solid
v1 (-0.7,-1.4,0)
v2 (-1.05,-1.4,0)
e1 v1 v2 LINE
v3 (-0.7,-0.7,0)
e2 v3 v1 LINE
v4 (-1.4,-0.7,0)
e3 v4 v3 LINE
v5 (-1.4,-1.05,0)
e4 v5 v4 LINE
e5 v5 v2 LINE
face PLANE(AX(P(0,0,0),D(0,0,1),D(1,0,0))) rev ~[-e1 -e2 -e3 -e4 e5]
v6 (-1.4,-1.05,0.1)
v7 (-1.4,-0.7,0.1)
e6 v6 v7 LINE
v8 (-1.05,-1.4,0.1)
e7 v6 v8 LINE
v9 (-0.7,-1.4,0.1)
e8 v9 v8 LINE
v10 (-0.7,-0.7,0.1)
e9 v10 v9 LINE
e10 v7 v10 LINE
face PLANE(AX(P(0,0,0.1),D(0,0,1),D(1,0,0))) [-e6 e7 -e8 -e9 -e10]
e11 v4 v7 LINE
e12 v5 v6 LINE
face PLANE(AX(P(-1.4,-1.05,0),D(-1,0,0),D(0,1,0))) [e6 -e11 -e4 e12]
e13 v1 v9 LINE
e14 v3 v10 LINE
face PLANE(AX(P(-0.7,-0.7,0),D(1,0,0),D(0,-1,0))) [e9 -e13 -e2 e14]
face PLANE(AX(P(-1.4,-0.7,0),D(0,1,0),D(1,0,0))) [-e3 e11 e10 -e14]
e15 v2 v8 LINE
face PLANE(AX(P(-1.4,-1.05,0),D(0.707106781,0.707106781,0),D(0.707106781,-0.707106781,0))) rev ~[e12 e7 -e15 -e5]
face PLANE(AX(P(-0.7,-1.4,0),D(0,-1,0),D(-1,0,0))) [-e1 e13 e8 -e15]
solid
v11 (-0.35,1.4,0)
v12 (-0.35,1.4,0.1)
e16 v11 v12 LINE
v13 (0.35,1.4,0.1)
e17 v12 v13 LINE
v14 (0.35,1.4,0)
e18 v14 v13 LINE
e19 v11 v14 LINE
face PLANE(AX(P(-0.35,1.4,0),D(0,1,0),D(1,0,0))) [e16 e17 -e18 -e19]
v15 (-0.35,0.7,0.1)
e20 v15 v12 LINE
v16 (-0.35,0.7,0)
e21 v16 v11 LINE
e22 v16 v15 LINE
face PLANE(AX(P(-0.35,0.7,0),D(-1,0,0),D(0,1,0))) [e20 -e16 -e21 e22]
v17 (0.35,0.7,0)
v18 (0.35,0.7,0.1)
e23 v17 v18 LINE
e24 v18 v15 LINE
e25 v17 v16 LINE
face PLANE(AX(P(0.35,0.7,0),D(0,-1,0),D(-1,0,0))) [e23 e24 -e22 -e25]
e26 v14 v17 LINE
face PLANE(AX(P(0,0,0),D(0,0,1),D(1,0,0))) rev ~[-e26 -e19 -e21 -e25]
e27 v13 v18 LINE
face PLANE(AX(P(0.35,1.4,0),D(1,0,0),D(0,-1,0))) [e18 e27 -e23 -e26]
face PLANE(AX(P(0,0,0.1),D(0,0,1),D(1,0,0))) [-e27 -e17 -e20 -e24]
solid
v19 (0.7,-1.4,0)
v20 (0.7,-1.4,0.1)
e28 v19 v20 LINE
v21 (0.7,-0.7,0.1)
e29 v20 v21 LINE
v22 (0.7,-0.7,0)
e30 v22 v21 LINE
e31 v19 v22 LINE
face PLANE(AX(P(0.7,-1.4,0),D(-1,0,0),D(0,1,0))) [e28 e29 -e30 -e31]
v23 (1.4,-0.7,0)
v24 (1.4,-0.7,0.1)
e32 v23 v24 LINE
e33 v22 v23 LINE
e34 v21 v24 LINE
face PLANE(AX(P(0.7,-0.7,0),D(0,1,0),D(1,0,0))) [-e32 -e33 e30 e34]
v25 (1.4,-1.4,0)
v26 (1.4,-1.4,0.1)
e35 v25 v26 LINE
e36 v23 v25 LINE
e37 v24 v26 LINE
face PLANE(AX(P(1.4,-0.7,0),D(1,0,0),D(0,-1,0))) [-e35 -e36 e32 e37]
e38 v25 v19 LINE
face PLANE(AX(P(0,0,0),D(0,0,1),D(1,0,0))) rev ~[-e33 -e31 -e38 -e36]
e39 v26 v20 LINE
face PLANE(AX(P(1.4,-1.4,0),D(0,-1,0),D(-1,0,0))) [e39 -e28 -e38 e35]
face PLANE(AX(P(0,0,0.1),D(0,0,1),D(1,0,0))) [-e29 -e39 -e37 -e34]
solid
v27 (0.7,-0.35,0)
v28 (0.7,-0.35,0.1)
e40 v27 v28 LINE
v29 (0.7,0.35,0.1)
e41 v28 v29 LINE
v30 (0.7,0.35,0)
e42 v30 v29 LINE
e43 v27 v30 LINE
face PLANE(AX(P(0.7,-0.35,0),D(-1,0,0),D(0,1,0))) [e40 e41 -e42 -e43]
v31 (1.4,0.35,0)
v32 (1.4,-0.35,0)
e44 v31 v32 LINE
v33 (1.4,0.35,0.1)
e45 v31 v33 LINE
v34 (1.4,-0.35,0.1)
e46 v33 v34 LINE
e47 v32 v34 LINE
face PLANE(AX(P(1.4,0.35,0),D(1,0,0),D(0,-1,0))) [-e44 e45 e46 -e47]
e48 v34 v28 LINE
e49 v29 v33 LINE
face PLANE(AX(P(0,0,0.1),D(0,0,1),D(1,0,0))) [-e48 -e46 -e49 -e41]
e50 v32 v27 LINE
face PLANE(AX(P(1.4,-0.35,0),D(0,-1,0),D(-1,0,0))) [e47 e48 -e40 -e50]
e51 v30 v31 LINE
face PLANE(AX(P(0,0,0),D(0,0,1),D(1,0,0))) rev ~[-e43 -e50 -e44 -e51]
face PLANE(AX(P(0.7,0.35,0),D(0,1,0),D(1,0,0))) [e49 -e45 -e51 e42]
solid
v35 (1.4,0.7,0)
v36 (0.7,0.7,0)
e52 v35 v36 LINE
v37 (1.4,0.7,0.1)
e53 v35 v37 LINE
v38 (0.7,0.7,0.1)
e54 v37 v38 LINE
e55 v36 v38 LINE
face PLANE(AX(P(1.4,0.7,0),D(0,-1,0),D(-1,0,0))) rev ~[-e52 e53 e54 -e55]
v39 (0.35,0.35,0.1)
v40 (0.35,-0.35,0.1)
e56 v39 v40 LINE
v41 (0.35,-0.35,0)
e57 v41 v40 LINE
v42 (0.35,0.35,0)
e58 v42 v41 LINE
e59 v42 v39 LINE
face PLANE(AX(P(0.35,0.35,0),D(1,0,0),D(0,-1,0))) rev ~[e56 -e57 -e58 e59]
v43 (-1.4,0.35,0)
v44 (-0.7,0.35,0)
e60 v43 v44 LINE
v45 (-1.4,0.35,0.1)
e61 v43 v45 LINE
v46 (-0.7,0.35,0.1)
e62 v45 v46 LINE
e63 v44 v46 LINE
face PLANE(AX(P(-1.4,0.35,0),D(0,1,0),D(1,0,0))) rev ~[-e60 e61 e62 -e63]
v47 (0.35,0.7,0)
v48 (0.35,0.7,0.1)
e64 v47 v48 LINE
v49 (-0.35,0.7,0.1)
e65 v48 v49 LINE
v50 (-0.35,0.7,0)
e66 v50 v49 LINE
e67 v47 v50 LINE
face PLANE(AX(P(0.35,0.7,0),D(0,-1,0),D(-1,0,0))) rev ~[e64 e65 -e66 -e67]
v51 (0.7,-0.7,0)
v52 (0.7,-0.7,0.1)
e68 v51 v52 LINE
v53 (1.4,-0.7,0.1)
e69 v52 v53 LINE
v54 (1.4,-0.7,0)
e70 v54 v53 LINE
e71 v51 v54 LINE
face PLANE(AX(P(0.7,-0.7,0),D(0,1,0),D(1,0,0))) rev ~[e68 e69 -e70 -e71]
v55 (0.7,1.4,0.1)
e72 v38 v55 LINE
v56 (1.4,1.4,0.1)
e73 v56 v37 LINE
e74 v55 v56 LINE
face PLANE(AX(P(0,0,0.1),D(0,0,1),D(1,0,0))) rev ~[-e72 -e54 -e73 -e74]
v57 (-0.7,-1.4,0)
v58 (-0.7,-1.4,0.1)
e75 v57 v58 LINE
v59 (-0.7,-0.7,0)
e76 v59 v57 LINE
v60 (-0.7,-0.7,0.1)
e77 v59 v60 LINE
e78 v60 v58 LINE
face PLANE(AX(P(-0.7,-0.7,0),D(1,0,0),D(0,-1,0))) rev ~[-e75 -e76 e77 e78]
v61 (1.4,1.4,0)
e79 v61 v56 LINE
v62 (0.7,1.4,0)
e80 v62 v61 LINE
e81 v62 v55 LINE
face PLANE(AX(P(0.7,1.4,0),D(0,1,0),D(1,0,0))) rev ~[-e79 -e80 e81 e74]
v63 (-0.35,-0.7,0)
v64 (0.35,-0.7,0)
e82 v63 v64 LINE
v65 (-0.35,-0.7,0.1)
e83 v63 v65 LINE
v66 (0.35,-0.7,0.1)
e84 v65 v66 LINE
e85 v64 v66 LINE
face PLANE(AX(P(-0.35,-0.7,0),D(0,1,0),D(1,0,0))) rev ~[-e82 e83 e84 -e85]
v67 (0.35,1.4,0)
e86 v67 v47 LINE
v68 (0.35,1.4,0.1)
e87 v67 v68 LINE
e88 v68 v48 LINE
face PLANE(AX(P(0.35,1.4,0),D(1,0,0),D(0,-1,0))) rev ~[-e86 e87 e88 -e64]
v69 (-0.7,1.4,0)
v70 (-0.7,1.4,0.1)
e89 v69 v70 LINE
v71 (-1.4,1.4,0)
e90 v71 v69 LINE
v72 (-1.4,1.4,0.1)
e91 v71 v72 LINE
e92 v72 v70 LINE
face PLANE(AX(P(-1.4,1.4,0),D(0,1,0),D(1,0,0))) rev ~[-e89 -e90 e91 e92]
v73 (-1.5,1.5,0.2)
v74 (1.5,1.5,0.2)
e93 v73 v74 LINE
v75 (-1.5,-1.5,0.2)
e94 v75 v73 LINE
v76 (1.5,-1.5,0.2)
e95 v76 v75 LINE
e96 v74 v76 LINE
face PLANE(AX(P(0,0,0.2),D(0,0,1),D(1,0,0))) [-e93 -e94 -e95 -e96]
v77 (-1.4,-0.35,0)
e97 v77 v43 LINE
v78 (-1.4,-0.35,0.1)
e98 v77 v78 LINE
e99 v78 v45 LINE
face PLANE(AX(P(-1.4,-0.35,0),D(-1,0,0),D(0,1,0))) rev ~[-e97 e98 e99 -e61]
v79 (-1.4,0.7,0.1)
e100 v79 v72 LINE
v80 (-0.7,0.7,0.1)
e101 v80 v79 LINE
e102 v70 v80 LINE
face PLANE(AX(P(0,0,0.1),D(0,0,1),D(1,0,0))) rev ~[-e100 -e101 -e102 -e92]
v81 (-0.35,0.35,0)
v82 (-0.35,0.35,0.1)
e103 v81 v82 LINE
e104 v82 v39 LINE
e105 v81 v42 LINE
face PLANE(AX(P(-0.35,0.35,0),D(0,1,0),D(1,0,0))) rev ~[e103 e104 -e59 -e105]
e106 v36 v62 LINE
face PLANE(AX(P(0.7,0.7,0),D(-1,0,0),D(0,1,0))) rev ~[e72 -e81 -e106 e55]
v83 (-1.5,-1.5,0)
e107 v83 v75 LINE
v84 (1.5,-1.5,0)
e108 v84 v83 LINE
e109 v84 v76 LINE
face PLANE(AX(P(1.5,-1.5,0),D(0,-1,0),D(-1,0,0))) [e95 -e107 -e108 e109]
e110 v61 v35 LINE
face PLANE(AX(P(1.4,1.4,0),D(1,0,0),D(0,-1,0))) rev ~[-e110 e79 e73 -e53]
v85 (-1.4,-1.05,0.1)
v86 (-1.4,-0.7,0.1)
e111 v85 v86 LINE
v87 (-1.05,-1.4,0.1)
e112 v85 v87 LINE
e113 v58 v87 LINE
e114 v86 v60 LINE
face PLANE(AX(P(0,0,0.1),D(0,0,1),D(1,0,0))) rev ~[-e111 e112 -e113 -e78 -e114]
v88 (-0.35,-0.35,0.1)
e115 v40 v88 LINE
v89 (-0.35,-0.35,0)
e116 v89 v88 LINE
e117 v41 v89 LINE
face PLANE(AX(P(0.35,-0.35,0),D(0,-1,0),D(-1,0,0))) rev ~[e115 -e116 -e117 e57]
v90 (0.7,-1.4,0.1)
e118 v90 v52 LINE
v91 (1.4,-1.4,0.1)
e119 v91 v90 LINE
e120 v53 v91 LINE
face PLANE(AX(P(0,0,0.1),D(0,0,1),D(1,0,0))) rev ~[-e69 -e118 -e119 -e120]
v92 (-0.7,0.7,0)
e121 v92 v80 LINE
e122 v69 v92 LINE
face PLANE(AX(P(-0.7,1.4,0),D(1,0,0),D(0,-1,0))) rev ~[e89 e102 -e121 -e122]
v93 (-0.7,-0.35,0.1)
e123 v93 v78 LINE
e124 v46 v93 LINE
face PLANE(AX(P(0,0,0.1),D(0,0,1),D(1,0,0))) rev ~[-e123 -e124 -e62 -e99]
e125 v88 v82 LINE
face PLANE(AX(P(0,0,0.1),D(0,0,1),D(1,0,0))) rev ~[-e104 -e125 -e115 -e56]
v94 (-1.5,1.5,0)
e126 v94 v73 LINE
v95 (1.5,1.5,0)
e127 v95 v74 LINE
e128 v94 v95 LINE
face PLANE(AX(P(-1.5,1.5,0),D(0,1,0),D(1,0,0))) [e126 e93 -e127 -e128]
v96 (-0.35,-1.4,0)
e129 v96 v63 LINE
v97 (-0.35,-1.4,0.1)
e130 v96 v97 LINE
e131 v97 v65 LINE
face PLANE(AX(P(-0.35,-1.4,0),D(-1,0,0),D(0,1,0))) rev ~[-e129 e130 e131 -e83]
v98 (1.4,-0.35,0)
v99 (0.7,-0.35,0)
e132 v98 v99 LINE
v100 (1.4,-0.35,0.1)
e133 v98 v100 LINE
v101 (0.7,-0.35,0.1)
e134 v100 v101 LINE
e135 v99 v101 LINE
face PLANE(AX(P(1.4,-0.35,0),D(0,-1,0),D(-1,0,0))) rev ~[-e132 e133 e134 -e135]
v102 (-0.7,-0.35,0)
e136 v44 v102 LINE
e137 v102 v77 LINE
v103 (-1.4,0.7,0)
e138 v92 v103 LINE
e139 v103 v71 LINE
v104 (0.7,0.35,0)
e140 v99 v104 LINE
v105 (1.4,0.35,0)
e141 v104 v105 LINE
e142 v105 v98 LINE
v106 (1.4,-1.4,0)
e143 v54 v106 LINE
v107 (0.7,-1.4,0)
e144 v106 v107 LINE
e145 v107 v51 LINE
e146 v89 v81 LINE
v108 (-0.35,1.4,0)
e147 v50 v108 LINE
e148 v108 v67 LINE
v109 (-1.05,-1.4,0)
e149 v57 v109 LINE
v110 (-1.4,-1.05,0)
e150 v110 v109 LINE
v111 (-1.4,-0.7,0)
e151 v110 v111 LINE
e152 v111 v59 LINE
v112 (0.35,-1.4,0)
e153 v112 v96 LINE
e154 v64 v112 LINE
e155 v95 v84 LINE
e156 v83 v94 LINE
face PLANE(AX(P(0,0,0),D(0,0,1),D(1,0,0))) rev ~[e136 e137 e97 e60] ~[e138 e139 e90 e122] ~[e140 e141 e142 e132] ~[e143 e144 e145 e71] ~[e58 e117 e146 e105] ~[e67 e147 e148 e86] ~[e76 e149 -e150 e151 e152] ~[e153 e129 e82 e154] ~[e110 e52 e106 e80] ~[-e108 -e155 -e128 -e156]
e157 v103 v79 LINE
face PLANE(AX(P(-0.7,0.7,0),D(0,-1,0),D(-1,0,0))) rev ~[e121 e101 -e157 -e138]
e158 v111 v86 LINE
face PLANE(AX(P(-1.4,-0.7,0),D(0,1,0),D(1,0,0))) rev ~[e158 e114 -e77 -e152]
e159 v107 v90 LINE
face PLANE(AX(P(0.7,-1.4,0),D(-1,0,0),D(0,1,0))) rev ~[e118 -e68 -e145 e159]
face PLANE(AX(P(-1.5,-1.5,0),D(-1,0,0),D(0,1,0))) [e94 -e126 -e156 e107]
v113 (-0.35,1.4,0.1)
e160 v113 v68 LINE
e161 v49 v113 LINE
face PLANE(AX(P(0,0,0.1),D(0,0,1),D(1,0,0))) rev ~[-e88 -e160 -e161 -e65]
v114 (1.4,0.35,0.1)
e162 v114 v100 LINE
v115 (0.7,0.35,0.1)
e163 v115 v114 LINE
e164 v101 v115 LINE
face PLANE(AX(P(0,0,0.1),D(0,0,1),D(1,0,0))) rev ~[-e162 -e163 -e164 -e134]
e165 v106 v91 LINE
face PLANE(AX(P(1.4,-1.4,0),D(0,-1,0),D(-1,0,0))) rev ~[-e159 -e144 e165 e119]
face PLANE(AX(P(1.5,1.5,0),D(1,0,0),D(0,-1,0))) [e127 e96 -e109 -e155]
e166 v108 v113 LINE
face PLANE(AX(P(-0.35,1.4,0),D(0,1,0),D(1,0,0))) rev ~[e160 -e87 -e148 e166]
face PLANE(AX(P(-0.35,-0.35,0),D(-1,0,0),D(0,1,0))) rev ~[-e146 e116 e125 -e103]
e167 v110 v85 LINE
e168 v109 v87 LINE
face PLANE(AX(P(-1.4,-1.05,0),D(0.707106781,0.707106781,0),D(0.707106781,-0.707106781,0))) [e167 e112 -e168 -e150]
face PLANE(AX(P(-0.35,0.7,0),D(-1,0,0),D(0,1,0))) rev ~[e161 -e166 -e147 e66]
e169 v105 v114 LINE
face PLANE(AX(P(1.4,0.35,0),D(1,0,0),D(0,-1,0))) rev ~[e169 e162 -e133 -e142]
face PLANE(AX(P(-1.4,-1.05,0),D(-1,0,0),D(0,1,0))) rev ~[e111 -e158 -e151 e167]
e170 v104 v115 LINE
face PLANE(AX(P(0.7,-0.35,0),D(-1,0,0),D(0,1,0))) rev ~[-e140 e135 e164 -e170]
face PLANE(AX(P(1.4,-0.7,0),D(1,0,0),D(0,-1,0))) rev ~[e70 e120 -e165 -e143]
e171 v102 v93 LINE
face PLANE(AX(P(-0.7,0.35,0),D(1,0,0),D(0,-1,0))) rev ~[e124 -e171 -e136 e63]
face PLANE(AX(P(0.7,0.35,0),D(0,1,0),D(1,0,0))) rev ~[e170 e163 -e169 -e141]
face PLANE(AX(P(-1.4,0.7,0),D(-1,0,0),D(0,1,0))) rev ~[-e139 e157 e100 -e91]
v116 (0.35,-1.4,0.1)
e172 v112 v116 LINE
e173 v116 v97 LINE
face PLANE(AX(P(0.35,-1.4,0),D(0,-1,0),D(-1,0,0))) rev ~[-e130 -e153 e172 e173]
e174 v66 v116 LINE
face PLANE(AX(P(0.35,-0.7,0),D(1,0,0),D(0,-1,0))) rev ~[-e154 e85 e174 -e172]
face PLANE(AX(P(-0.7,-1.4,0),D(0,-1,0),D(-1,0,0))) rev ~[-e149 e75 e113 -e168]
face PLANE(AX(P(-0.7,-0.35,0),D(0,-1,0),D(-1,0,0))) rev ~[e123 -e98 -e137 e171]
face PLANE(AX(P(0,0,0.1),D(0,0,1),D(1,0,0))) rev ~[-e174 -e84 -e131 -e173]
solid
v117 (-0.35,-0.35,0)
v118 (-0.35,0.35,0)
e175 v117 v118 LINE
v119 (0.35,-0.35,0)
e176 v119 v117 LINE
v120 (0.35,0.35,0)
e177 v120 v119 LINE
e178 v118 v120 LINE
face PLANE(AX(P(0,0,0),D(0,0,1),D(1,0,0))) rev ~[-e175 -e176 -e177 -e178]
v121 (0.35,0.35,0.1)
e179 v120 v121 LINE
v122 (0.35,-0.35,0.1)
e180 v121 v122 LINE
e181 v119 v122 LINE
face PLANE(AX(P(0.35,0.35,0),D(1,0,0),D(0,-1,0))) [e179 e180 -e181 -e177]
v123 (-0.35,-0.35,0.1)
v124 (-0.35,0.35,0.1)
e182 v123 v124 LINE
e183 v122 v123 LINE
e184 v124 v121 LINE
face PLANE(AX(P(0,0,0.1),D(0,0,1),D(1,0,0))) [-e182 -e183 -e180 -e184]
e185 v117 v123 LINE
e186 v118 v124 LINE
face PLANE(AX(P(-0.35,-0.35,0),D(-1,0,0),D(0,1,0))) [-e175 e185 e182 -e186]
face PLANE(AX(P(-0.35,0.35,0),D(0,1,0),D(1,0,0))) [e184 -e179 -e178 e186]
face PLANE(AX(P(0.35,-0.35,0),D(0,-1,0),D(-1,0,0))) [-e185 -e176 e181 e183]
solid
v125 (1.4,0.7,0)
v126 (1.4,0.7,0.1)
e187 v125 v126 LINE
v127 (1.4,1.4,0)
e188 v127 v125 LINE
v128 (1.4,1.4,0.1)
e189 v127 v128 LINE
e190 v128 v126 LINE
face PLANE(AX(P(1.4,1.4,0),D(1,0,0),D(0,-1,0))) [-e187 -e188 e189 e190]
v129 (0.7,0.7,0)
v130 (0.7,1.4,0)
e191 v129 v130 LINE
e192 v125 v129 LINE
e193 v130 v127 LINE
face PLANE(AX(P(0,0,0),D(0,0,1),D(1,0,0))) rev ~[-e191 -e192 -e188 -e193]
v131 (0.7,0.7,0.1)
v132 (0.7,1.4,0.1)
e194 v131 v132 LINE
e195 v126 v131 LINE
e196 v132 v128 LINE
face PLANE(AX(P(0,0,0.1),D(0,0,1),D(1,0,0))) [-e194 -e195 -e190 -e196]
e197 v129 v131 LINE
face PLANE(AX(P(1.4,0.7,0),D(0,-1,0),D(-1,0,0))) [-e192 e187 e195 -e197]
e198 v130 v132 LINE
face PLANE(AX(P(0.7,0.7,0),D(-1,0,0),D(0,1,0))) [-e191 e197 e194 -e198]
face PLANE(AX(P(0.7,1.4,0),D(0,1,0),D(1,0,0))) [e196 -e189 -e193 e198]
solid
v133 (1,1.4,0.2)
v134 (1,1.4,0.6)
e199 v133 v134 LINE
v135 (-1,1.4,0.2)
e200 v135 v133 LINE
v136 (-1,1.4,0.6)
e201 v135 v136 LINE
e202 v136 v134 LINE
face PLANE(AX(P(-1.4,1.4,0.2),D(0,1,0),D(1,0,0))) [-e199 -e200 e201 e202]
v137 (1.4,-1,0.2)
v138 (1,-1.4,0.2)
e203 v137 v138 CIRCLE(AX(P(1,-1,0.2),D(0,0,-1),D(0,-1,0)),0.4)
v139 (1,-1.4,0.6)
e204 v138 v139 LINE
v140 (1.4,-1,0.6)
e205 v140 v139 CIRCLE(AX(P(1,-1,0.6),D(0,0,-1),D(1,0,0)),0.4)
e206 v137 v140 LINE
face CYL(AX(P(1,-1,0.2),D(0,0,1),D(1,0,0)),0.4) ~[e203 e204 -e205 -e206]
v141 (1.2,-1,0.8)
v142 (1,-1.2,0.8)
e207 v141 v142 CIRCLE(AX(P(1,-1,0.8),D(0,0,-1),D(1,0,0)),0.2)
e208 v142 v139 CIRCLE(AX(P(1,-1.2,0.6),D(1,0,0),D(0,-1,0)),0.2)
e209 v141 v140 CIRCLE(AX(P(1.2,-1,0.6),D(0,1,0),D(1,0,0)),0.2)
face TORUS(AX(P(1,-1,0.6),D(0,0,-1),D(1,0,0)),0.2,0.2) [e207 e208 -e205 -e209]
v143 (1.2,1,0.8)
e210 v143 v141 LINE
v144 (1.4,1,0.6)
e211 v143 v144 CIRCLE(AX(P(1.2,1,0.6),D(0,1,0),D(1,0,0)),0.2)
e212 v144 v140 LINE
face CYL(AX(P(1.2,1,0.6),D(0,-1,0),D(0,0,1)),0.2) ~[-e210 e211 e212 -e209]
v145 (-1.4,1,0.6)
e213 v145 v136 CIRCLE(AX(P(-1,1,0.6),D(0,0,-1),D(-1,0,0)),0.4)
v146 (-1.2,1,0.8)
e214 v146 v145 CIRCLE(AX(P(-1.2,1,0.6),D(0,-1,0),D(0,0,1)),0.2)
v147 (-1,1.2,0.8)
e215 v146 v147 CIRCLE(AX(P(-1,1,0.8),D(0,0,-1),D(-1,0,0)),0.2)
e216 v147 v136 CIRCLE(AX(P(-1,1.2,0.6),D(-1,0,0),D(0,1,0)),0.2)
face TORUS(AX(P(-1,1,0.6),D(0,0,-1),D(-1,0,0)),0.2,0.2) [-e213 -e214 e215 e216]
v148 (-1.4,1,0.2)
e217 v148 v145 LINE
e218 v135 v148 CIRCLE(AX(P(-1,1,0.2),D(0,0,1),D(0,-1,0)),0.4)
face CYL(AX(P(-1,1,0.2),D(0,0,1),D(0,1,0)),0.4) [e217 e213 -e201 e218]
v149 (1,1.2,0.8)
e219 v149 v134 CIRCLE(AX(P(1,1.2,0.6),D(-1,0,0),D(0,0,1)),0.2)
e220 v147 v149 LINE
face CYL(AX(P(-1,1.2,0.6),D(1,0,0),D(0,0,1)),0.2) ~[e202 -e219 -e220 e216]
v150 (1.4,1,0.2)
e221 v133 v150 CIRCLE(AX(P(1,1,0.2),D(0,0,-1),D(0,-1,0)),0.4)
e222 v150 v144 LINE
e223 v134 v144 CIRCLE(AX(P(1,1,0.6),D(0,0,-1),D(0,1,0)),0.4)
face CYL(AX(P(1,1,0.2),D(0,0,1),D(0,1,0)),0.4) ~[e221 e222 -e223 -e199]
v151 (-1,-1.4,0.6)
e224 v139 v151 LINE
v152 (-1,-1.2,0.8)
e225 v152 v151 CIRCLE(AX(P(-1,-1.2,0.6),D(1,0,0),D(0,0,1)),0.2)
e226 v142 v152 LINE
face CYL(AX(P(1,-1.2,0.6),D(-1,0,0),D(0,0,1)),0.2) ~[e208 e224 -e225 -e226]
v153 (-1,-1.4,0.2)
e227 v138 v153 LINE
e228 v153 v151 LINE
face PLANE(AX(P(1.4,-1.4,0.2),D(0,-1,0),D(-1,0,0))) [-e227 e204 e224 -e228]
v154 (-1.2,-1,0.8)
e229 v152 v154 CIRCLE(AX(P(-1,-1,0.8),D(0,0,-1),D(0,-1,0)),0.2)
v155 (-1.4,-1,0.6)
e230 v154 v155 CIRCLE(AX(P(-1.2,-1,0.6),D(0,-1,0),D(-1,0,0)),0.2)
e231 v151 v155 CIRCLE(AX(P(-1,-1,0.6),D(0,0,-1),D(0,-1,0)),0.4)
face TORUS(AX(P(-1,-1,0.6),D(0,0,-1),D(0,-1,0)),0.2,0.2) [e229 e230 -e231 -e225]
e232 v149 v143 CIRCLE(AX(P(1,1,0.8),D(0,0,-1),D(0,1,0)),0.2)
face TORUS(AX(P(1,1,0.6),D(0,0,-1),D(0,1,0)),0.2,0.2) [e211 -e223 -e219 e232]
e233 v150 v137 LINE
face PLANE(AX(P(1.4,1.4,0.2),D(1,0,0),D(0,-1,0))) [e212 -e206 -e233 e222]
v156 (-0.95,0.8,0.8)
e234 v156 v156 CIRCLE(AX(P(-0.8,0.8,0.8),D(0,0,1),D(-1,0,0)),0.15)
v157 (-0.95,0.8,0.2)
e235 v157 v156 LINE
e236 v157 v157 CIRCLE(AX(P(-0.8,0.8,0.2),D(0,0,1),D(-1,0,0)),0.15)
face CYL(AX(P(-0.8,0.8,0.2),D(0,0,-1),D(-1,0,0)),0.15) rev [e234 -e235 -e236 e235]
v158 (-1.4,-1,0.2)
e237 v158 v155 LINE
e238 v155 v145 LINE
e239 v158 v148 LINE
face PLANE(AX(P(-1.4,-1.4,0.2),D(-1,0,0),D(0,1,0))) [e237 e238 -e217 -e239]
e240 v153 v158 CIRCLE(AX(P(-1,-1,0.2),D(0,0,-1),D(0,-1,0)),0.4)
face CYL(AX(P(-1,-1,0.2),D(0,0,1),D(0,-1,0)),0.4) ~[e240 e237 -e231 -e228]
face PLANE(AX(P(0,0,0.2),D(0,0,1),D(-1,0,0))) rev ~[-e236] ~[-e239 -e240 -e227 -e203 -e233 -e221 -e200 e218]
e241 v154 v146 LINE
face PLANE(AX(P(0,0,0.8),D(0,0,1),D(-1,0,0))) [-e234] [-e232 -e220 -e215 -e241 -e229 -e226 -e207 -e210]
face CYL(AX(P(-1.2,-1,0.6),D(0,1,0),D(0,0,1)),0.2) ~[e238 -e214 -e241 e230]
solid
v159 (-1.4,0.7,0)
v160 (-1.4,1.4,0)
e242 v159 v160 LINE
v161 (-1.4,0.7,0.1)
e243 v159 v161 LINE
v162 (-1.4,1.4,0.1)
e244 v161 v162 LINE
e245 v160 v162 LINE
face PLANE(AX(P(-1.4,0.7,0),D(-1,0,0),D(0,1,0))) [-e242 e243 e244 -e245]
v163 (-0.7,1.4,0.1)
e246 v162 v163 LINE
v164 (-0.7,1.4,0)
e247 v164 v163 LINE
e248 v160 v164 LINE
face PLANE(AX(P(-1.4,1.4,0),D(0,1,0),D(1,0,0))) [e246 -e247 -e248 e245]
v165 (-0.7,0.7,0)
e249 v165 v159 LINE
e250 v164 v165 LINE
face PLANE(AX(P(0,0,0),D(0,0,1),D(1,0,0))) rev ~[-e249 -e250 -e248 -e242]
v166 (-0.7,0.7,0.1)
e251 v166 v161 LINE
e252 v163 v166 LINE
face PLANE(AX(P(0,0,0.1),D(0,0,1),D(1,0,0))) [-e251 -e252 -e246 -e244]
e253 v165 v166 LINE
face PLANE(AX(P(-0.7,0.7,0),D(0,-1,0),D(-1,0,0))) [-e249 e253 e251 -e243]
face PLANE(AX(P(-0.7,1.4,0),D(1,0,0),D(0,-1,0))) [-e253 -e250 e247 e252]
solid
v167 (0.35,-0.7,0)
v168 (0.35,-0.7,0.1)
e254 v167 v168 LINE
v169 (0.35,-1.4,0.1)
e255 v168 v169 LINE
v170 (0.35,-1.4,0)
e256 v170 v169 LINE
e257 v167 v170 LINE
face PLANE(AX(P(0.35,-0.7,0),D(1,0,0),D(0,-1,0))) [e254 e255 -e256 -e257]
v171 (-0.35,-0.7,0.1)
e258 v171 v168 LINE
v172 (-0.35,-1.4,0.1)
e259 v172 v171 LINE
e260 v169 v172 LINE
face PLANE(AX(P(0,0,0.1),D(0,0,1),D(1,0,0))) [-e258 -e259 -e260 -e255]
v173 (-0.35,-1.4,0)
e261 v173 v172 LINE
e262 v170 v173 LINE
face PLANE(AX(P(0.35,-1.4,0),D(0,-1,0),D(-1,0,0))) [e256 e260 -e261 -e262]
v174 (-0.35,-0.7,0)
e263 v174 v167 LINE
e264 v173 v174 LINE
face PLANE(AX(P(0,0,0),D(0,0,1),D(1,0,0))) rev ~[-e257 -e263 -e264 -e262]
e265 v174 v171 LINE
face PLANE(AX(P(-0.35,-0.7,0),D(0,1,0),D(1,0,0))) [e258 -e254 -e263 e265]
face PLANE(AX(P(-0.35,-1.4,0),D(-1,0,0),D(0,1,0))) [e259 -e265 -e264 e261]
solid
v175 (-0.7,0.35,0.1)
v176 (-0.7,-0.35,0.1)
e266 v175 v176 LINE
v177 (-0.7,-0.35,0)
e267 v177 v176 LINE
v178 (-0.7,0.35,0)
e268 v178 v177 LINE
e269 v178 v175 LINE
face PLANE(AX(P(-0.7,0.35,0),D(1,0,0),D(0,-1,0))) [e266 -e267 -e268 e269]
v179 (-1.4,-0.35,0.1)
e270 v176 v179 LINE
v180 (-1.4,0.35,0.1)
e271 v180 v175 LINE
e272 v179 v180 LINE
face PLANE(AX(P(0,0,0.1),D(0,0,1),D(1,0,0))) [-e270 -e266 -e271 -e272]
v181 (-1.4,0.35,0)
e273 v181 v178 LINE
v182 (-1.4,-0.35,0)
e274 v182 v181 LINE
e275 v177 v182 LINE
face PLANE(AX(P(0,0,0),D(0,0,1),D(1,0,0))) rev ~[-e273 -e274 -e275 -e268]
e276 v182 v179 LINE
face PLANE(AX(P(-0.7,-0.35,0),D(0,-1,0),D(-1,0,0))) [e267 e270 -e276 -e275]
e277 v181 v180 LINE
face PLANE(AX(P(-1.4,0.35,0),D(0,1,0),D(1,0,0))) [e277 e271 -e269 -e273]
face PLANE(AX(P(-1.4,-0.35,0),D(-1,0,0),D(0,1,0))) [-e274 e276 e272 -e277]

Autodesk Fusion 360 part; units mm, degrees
sketch "Sketch1" plane through (0, 0, 0) normal (0, 0, 1) x (1, 0, 0)
  line L0 (-1.5, 1.5) -> (1.5, 1.5)
  line L1 (1.5, 1.5) -> (1.5, -1.5)
  line L2 (1.5, -1.5) -> (-1.5, -1.5)
  line L3 (-1.5, -1.5) -> (-1.5, 1.5)
  line L4 (0, 1.5) -> (0, 0) construction
  line L5 (0, 0) -> (-1.5, 0) construction
  dimension "d1" = 3
sketch "Sketch2" plane through (0, 0, 0) normal (0, 0, 1) x (1, 0, 0)
  line L0 (-1.4, 1.4) -> (-0.7, 1.4)
  line L1 (-0.7, 1.4) -> (-0.7, 0.7)
  line L2 (-0.7, 0.7) -> (-1.4, 0.7)
  line L3 (-1.4, 0.7) -> (-1.4, 1.4)
  line L4 (-1.05, 1.4) -> (-1.05, 1.05) construction
  line L5 (-1.05, 1.05) -> (-0.7, 1.05) construction
  line L6 (0.35, 0.7) -> (-0.35, 0.7)
  line L7 (-0.35, 0.7) -> (-0.35, 1.4)
  line L8 (-0.35, 1.4) -> (0.35, 1.4)
  line L9 (0.35, 1.4) -> (0.35, 0.7)
  line L10 (1.4, 0.7) -> (0.7, 0.7)
  line L11 (0.7, 0.7) -> (0.7, 1.4)
  line L12 (0.7, 1.4) -> (1.4, 1.4)
  line L13 (1.4, 1.4) -> (1.4, 0.7)
  line L14 (-0.7, -0.35) -> (-1.4, -0.35)
  line L15 (-1.4, -0.35) -> (-1.4, 0.35)
  line L16 (-1.4, 0.35) -> (-0.7, 0.35)
  line L17 (-0.7, 0.35) -> (-0.7, -0.35)
  line L18 (0.35, -0.35) -> (-0.35, -0.35)
  line L19 (-0.35, -0.35) -> (-0.35, 0.35)
  line L20 (-0.35, 0.35) -> (0.35, 0.35)
  line L21 (0.35, 0.35) -> (0.35, -0.35)
  line L22 (1.4, -0.35) -> (0.7, -0.35)
  line L23 (0.7, -0.35) -> (0.7, 0.35)
  line L24 (0.7, 0.35) -> (1.4, 0.35)
  line L25 (1.4, 0.35) -> (1.4, -0.35)
  line L26 (-0.7, -1.4) -> (-1.4, -1.4)
  line L27 (-1.4, -1.4) -> (-1.4, -0.7)
  line L28 (-1.4, -0.7) -> (-0.7, -0.7)
  line L29 (-0.7, -0.7) -> (-0.7, -1.4)
  line L30 (0.35, -1.4) -> (-0.35, -1.4)
  line L31 (-0.35, -1.4) -> (-0.35, -0.7)
  line L32 (-0.35, -0.7) -> (0.35, -0.7)
  line L33 (0.35, -0.7) -> (0.35, -1.4)
  line L34 (1.4, -1.4) -> (0.7, -1.4)
  line L35 (0.7, -1.4) -> (0.7, -0.7)
  line L36 (0.7, -0.7) -> (1.4, -0.7)
  line L37 (1.4, -0.7) -> (1.4, -1.4)
  line L38 (-1.4, -1.05) -> (-1.05, -1.4)
  dimension "d3" = 0.7
  dimension "d4" = 0.7
  dimension "d5" = 1.05
  dimension "d6" = 1.05
  dimension "d9" = 1.05
  dimension "d10" = -1.05
extrude "Extrude1" add sketch "Sketch1" along normal blind 0.2 makes body 1
sketch "Sketch3" plane through (0, 0, 0.2) normal (0, 0, 1) x (-1, 0, 0)
  line L0 (1.4, -1.4) -> (-1.4, -1.4)
  line L1 (-1.4, -1.4) -> (-1.4, 1.4)
  line L2 (-1.4, 1.4) -> (1.4, 1.4)
  line L3 (1.4, 1.4) -> (1.4, -1.4)
  line L4 (0, -1.4) -> (0, 0) construction
  line L5 (0, 0) -> (1.4, 0) construction
  circle A0 centre (0.8, -0.8) radius 0.15
  dimension "d13" = 2.8
  dimension "d14" = 2.8
  dimension "d15" = 0.3
  dimension "d16" = 0.8
  dimension "d17" = 0.8
extrude "Extrude2" add sketch "Sketch3" along normal blind 0.6 separate body makes body 2
fillet "Fillet1" radius 0.4 4 edges at (-1.4, -1.4, 0.5) (-1.4, 1.4, 0.5) (1.4, 1.4, 0.5) (1.4, -1.4, 0.5) on bodies 2
fillet "Fillet2" radius 0.2 8 edges at (1.2828, -1.2828, 0.8) (1.4, 0, 0.8) (1.2828, 1.2828, 0.8) (0, 1.4, 0.8) (-1.2828, 1.2828, 0.8) (-1.4, 0, 0.8) (-1.2828, -1.2828, 0.8) (0, -1.4, 0.8) on bodies 2
extrude "Extrude3" cut sketch "Sketch2" along normal blind 0.1 contours L0 L1 L2 L3 | L6 L7 L8 L9 | L10 L11 L12 L13 | L14 L15 L16 L17 | L18 L19 L20 L21 | L22 L23 L24 L25 | L26 L27 L28 L29 L38 | L30 L31 L32 L33 | L34 L35 L36 L37 bodies 1
extrude "Extrude4" add sketch "Sketch2" along normal blind 0.1 separate body contours L0 L1 L2 L3 | L6 L7 L8 L9 | L10 L11 L12 L13 | L14 L15 L16 L17 | L18 L19 L20 L21 | L22 L23 L24 L25 | L26 L27 L28 L29 L38 | L30 L31 L32 L33 | L34 L35 L36 L37 makes body 3 at (1.1667, -1.1667, 0) makes body 4 at (-1.1667, 0.1167, 0) makes body 5 at (0.1167, -1.1667, 0) makes body 6 at (-0.1167, 0.1167, 0) makes body 7 at (0.9333, 0.1167, 0) makes body 8 at (-1.1667, 1.1667, 0) makes body 9 at (-1.05, -1.05, 0) makes body 10 at (0.1167, 0.9333, 0) makes body 11 at (1.1667, 0.9333, 0)
equation "d5 = ( 2.1 / 2 ) * 1 mm"
equation "d6 = ( 2.1 / 2 ) * 1 mm"
